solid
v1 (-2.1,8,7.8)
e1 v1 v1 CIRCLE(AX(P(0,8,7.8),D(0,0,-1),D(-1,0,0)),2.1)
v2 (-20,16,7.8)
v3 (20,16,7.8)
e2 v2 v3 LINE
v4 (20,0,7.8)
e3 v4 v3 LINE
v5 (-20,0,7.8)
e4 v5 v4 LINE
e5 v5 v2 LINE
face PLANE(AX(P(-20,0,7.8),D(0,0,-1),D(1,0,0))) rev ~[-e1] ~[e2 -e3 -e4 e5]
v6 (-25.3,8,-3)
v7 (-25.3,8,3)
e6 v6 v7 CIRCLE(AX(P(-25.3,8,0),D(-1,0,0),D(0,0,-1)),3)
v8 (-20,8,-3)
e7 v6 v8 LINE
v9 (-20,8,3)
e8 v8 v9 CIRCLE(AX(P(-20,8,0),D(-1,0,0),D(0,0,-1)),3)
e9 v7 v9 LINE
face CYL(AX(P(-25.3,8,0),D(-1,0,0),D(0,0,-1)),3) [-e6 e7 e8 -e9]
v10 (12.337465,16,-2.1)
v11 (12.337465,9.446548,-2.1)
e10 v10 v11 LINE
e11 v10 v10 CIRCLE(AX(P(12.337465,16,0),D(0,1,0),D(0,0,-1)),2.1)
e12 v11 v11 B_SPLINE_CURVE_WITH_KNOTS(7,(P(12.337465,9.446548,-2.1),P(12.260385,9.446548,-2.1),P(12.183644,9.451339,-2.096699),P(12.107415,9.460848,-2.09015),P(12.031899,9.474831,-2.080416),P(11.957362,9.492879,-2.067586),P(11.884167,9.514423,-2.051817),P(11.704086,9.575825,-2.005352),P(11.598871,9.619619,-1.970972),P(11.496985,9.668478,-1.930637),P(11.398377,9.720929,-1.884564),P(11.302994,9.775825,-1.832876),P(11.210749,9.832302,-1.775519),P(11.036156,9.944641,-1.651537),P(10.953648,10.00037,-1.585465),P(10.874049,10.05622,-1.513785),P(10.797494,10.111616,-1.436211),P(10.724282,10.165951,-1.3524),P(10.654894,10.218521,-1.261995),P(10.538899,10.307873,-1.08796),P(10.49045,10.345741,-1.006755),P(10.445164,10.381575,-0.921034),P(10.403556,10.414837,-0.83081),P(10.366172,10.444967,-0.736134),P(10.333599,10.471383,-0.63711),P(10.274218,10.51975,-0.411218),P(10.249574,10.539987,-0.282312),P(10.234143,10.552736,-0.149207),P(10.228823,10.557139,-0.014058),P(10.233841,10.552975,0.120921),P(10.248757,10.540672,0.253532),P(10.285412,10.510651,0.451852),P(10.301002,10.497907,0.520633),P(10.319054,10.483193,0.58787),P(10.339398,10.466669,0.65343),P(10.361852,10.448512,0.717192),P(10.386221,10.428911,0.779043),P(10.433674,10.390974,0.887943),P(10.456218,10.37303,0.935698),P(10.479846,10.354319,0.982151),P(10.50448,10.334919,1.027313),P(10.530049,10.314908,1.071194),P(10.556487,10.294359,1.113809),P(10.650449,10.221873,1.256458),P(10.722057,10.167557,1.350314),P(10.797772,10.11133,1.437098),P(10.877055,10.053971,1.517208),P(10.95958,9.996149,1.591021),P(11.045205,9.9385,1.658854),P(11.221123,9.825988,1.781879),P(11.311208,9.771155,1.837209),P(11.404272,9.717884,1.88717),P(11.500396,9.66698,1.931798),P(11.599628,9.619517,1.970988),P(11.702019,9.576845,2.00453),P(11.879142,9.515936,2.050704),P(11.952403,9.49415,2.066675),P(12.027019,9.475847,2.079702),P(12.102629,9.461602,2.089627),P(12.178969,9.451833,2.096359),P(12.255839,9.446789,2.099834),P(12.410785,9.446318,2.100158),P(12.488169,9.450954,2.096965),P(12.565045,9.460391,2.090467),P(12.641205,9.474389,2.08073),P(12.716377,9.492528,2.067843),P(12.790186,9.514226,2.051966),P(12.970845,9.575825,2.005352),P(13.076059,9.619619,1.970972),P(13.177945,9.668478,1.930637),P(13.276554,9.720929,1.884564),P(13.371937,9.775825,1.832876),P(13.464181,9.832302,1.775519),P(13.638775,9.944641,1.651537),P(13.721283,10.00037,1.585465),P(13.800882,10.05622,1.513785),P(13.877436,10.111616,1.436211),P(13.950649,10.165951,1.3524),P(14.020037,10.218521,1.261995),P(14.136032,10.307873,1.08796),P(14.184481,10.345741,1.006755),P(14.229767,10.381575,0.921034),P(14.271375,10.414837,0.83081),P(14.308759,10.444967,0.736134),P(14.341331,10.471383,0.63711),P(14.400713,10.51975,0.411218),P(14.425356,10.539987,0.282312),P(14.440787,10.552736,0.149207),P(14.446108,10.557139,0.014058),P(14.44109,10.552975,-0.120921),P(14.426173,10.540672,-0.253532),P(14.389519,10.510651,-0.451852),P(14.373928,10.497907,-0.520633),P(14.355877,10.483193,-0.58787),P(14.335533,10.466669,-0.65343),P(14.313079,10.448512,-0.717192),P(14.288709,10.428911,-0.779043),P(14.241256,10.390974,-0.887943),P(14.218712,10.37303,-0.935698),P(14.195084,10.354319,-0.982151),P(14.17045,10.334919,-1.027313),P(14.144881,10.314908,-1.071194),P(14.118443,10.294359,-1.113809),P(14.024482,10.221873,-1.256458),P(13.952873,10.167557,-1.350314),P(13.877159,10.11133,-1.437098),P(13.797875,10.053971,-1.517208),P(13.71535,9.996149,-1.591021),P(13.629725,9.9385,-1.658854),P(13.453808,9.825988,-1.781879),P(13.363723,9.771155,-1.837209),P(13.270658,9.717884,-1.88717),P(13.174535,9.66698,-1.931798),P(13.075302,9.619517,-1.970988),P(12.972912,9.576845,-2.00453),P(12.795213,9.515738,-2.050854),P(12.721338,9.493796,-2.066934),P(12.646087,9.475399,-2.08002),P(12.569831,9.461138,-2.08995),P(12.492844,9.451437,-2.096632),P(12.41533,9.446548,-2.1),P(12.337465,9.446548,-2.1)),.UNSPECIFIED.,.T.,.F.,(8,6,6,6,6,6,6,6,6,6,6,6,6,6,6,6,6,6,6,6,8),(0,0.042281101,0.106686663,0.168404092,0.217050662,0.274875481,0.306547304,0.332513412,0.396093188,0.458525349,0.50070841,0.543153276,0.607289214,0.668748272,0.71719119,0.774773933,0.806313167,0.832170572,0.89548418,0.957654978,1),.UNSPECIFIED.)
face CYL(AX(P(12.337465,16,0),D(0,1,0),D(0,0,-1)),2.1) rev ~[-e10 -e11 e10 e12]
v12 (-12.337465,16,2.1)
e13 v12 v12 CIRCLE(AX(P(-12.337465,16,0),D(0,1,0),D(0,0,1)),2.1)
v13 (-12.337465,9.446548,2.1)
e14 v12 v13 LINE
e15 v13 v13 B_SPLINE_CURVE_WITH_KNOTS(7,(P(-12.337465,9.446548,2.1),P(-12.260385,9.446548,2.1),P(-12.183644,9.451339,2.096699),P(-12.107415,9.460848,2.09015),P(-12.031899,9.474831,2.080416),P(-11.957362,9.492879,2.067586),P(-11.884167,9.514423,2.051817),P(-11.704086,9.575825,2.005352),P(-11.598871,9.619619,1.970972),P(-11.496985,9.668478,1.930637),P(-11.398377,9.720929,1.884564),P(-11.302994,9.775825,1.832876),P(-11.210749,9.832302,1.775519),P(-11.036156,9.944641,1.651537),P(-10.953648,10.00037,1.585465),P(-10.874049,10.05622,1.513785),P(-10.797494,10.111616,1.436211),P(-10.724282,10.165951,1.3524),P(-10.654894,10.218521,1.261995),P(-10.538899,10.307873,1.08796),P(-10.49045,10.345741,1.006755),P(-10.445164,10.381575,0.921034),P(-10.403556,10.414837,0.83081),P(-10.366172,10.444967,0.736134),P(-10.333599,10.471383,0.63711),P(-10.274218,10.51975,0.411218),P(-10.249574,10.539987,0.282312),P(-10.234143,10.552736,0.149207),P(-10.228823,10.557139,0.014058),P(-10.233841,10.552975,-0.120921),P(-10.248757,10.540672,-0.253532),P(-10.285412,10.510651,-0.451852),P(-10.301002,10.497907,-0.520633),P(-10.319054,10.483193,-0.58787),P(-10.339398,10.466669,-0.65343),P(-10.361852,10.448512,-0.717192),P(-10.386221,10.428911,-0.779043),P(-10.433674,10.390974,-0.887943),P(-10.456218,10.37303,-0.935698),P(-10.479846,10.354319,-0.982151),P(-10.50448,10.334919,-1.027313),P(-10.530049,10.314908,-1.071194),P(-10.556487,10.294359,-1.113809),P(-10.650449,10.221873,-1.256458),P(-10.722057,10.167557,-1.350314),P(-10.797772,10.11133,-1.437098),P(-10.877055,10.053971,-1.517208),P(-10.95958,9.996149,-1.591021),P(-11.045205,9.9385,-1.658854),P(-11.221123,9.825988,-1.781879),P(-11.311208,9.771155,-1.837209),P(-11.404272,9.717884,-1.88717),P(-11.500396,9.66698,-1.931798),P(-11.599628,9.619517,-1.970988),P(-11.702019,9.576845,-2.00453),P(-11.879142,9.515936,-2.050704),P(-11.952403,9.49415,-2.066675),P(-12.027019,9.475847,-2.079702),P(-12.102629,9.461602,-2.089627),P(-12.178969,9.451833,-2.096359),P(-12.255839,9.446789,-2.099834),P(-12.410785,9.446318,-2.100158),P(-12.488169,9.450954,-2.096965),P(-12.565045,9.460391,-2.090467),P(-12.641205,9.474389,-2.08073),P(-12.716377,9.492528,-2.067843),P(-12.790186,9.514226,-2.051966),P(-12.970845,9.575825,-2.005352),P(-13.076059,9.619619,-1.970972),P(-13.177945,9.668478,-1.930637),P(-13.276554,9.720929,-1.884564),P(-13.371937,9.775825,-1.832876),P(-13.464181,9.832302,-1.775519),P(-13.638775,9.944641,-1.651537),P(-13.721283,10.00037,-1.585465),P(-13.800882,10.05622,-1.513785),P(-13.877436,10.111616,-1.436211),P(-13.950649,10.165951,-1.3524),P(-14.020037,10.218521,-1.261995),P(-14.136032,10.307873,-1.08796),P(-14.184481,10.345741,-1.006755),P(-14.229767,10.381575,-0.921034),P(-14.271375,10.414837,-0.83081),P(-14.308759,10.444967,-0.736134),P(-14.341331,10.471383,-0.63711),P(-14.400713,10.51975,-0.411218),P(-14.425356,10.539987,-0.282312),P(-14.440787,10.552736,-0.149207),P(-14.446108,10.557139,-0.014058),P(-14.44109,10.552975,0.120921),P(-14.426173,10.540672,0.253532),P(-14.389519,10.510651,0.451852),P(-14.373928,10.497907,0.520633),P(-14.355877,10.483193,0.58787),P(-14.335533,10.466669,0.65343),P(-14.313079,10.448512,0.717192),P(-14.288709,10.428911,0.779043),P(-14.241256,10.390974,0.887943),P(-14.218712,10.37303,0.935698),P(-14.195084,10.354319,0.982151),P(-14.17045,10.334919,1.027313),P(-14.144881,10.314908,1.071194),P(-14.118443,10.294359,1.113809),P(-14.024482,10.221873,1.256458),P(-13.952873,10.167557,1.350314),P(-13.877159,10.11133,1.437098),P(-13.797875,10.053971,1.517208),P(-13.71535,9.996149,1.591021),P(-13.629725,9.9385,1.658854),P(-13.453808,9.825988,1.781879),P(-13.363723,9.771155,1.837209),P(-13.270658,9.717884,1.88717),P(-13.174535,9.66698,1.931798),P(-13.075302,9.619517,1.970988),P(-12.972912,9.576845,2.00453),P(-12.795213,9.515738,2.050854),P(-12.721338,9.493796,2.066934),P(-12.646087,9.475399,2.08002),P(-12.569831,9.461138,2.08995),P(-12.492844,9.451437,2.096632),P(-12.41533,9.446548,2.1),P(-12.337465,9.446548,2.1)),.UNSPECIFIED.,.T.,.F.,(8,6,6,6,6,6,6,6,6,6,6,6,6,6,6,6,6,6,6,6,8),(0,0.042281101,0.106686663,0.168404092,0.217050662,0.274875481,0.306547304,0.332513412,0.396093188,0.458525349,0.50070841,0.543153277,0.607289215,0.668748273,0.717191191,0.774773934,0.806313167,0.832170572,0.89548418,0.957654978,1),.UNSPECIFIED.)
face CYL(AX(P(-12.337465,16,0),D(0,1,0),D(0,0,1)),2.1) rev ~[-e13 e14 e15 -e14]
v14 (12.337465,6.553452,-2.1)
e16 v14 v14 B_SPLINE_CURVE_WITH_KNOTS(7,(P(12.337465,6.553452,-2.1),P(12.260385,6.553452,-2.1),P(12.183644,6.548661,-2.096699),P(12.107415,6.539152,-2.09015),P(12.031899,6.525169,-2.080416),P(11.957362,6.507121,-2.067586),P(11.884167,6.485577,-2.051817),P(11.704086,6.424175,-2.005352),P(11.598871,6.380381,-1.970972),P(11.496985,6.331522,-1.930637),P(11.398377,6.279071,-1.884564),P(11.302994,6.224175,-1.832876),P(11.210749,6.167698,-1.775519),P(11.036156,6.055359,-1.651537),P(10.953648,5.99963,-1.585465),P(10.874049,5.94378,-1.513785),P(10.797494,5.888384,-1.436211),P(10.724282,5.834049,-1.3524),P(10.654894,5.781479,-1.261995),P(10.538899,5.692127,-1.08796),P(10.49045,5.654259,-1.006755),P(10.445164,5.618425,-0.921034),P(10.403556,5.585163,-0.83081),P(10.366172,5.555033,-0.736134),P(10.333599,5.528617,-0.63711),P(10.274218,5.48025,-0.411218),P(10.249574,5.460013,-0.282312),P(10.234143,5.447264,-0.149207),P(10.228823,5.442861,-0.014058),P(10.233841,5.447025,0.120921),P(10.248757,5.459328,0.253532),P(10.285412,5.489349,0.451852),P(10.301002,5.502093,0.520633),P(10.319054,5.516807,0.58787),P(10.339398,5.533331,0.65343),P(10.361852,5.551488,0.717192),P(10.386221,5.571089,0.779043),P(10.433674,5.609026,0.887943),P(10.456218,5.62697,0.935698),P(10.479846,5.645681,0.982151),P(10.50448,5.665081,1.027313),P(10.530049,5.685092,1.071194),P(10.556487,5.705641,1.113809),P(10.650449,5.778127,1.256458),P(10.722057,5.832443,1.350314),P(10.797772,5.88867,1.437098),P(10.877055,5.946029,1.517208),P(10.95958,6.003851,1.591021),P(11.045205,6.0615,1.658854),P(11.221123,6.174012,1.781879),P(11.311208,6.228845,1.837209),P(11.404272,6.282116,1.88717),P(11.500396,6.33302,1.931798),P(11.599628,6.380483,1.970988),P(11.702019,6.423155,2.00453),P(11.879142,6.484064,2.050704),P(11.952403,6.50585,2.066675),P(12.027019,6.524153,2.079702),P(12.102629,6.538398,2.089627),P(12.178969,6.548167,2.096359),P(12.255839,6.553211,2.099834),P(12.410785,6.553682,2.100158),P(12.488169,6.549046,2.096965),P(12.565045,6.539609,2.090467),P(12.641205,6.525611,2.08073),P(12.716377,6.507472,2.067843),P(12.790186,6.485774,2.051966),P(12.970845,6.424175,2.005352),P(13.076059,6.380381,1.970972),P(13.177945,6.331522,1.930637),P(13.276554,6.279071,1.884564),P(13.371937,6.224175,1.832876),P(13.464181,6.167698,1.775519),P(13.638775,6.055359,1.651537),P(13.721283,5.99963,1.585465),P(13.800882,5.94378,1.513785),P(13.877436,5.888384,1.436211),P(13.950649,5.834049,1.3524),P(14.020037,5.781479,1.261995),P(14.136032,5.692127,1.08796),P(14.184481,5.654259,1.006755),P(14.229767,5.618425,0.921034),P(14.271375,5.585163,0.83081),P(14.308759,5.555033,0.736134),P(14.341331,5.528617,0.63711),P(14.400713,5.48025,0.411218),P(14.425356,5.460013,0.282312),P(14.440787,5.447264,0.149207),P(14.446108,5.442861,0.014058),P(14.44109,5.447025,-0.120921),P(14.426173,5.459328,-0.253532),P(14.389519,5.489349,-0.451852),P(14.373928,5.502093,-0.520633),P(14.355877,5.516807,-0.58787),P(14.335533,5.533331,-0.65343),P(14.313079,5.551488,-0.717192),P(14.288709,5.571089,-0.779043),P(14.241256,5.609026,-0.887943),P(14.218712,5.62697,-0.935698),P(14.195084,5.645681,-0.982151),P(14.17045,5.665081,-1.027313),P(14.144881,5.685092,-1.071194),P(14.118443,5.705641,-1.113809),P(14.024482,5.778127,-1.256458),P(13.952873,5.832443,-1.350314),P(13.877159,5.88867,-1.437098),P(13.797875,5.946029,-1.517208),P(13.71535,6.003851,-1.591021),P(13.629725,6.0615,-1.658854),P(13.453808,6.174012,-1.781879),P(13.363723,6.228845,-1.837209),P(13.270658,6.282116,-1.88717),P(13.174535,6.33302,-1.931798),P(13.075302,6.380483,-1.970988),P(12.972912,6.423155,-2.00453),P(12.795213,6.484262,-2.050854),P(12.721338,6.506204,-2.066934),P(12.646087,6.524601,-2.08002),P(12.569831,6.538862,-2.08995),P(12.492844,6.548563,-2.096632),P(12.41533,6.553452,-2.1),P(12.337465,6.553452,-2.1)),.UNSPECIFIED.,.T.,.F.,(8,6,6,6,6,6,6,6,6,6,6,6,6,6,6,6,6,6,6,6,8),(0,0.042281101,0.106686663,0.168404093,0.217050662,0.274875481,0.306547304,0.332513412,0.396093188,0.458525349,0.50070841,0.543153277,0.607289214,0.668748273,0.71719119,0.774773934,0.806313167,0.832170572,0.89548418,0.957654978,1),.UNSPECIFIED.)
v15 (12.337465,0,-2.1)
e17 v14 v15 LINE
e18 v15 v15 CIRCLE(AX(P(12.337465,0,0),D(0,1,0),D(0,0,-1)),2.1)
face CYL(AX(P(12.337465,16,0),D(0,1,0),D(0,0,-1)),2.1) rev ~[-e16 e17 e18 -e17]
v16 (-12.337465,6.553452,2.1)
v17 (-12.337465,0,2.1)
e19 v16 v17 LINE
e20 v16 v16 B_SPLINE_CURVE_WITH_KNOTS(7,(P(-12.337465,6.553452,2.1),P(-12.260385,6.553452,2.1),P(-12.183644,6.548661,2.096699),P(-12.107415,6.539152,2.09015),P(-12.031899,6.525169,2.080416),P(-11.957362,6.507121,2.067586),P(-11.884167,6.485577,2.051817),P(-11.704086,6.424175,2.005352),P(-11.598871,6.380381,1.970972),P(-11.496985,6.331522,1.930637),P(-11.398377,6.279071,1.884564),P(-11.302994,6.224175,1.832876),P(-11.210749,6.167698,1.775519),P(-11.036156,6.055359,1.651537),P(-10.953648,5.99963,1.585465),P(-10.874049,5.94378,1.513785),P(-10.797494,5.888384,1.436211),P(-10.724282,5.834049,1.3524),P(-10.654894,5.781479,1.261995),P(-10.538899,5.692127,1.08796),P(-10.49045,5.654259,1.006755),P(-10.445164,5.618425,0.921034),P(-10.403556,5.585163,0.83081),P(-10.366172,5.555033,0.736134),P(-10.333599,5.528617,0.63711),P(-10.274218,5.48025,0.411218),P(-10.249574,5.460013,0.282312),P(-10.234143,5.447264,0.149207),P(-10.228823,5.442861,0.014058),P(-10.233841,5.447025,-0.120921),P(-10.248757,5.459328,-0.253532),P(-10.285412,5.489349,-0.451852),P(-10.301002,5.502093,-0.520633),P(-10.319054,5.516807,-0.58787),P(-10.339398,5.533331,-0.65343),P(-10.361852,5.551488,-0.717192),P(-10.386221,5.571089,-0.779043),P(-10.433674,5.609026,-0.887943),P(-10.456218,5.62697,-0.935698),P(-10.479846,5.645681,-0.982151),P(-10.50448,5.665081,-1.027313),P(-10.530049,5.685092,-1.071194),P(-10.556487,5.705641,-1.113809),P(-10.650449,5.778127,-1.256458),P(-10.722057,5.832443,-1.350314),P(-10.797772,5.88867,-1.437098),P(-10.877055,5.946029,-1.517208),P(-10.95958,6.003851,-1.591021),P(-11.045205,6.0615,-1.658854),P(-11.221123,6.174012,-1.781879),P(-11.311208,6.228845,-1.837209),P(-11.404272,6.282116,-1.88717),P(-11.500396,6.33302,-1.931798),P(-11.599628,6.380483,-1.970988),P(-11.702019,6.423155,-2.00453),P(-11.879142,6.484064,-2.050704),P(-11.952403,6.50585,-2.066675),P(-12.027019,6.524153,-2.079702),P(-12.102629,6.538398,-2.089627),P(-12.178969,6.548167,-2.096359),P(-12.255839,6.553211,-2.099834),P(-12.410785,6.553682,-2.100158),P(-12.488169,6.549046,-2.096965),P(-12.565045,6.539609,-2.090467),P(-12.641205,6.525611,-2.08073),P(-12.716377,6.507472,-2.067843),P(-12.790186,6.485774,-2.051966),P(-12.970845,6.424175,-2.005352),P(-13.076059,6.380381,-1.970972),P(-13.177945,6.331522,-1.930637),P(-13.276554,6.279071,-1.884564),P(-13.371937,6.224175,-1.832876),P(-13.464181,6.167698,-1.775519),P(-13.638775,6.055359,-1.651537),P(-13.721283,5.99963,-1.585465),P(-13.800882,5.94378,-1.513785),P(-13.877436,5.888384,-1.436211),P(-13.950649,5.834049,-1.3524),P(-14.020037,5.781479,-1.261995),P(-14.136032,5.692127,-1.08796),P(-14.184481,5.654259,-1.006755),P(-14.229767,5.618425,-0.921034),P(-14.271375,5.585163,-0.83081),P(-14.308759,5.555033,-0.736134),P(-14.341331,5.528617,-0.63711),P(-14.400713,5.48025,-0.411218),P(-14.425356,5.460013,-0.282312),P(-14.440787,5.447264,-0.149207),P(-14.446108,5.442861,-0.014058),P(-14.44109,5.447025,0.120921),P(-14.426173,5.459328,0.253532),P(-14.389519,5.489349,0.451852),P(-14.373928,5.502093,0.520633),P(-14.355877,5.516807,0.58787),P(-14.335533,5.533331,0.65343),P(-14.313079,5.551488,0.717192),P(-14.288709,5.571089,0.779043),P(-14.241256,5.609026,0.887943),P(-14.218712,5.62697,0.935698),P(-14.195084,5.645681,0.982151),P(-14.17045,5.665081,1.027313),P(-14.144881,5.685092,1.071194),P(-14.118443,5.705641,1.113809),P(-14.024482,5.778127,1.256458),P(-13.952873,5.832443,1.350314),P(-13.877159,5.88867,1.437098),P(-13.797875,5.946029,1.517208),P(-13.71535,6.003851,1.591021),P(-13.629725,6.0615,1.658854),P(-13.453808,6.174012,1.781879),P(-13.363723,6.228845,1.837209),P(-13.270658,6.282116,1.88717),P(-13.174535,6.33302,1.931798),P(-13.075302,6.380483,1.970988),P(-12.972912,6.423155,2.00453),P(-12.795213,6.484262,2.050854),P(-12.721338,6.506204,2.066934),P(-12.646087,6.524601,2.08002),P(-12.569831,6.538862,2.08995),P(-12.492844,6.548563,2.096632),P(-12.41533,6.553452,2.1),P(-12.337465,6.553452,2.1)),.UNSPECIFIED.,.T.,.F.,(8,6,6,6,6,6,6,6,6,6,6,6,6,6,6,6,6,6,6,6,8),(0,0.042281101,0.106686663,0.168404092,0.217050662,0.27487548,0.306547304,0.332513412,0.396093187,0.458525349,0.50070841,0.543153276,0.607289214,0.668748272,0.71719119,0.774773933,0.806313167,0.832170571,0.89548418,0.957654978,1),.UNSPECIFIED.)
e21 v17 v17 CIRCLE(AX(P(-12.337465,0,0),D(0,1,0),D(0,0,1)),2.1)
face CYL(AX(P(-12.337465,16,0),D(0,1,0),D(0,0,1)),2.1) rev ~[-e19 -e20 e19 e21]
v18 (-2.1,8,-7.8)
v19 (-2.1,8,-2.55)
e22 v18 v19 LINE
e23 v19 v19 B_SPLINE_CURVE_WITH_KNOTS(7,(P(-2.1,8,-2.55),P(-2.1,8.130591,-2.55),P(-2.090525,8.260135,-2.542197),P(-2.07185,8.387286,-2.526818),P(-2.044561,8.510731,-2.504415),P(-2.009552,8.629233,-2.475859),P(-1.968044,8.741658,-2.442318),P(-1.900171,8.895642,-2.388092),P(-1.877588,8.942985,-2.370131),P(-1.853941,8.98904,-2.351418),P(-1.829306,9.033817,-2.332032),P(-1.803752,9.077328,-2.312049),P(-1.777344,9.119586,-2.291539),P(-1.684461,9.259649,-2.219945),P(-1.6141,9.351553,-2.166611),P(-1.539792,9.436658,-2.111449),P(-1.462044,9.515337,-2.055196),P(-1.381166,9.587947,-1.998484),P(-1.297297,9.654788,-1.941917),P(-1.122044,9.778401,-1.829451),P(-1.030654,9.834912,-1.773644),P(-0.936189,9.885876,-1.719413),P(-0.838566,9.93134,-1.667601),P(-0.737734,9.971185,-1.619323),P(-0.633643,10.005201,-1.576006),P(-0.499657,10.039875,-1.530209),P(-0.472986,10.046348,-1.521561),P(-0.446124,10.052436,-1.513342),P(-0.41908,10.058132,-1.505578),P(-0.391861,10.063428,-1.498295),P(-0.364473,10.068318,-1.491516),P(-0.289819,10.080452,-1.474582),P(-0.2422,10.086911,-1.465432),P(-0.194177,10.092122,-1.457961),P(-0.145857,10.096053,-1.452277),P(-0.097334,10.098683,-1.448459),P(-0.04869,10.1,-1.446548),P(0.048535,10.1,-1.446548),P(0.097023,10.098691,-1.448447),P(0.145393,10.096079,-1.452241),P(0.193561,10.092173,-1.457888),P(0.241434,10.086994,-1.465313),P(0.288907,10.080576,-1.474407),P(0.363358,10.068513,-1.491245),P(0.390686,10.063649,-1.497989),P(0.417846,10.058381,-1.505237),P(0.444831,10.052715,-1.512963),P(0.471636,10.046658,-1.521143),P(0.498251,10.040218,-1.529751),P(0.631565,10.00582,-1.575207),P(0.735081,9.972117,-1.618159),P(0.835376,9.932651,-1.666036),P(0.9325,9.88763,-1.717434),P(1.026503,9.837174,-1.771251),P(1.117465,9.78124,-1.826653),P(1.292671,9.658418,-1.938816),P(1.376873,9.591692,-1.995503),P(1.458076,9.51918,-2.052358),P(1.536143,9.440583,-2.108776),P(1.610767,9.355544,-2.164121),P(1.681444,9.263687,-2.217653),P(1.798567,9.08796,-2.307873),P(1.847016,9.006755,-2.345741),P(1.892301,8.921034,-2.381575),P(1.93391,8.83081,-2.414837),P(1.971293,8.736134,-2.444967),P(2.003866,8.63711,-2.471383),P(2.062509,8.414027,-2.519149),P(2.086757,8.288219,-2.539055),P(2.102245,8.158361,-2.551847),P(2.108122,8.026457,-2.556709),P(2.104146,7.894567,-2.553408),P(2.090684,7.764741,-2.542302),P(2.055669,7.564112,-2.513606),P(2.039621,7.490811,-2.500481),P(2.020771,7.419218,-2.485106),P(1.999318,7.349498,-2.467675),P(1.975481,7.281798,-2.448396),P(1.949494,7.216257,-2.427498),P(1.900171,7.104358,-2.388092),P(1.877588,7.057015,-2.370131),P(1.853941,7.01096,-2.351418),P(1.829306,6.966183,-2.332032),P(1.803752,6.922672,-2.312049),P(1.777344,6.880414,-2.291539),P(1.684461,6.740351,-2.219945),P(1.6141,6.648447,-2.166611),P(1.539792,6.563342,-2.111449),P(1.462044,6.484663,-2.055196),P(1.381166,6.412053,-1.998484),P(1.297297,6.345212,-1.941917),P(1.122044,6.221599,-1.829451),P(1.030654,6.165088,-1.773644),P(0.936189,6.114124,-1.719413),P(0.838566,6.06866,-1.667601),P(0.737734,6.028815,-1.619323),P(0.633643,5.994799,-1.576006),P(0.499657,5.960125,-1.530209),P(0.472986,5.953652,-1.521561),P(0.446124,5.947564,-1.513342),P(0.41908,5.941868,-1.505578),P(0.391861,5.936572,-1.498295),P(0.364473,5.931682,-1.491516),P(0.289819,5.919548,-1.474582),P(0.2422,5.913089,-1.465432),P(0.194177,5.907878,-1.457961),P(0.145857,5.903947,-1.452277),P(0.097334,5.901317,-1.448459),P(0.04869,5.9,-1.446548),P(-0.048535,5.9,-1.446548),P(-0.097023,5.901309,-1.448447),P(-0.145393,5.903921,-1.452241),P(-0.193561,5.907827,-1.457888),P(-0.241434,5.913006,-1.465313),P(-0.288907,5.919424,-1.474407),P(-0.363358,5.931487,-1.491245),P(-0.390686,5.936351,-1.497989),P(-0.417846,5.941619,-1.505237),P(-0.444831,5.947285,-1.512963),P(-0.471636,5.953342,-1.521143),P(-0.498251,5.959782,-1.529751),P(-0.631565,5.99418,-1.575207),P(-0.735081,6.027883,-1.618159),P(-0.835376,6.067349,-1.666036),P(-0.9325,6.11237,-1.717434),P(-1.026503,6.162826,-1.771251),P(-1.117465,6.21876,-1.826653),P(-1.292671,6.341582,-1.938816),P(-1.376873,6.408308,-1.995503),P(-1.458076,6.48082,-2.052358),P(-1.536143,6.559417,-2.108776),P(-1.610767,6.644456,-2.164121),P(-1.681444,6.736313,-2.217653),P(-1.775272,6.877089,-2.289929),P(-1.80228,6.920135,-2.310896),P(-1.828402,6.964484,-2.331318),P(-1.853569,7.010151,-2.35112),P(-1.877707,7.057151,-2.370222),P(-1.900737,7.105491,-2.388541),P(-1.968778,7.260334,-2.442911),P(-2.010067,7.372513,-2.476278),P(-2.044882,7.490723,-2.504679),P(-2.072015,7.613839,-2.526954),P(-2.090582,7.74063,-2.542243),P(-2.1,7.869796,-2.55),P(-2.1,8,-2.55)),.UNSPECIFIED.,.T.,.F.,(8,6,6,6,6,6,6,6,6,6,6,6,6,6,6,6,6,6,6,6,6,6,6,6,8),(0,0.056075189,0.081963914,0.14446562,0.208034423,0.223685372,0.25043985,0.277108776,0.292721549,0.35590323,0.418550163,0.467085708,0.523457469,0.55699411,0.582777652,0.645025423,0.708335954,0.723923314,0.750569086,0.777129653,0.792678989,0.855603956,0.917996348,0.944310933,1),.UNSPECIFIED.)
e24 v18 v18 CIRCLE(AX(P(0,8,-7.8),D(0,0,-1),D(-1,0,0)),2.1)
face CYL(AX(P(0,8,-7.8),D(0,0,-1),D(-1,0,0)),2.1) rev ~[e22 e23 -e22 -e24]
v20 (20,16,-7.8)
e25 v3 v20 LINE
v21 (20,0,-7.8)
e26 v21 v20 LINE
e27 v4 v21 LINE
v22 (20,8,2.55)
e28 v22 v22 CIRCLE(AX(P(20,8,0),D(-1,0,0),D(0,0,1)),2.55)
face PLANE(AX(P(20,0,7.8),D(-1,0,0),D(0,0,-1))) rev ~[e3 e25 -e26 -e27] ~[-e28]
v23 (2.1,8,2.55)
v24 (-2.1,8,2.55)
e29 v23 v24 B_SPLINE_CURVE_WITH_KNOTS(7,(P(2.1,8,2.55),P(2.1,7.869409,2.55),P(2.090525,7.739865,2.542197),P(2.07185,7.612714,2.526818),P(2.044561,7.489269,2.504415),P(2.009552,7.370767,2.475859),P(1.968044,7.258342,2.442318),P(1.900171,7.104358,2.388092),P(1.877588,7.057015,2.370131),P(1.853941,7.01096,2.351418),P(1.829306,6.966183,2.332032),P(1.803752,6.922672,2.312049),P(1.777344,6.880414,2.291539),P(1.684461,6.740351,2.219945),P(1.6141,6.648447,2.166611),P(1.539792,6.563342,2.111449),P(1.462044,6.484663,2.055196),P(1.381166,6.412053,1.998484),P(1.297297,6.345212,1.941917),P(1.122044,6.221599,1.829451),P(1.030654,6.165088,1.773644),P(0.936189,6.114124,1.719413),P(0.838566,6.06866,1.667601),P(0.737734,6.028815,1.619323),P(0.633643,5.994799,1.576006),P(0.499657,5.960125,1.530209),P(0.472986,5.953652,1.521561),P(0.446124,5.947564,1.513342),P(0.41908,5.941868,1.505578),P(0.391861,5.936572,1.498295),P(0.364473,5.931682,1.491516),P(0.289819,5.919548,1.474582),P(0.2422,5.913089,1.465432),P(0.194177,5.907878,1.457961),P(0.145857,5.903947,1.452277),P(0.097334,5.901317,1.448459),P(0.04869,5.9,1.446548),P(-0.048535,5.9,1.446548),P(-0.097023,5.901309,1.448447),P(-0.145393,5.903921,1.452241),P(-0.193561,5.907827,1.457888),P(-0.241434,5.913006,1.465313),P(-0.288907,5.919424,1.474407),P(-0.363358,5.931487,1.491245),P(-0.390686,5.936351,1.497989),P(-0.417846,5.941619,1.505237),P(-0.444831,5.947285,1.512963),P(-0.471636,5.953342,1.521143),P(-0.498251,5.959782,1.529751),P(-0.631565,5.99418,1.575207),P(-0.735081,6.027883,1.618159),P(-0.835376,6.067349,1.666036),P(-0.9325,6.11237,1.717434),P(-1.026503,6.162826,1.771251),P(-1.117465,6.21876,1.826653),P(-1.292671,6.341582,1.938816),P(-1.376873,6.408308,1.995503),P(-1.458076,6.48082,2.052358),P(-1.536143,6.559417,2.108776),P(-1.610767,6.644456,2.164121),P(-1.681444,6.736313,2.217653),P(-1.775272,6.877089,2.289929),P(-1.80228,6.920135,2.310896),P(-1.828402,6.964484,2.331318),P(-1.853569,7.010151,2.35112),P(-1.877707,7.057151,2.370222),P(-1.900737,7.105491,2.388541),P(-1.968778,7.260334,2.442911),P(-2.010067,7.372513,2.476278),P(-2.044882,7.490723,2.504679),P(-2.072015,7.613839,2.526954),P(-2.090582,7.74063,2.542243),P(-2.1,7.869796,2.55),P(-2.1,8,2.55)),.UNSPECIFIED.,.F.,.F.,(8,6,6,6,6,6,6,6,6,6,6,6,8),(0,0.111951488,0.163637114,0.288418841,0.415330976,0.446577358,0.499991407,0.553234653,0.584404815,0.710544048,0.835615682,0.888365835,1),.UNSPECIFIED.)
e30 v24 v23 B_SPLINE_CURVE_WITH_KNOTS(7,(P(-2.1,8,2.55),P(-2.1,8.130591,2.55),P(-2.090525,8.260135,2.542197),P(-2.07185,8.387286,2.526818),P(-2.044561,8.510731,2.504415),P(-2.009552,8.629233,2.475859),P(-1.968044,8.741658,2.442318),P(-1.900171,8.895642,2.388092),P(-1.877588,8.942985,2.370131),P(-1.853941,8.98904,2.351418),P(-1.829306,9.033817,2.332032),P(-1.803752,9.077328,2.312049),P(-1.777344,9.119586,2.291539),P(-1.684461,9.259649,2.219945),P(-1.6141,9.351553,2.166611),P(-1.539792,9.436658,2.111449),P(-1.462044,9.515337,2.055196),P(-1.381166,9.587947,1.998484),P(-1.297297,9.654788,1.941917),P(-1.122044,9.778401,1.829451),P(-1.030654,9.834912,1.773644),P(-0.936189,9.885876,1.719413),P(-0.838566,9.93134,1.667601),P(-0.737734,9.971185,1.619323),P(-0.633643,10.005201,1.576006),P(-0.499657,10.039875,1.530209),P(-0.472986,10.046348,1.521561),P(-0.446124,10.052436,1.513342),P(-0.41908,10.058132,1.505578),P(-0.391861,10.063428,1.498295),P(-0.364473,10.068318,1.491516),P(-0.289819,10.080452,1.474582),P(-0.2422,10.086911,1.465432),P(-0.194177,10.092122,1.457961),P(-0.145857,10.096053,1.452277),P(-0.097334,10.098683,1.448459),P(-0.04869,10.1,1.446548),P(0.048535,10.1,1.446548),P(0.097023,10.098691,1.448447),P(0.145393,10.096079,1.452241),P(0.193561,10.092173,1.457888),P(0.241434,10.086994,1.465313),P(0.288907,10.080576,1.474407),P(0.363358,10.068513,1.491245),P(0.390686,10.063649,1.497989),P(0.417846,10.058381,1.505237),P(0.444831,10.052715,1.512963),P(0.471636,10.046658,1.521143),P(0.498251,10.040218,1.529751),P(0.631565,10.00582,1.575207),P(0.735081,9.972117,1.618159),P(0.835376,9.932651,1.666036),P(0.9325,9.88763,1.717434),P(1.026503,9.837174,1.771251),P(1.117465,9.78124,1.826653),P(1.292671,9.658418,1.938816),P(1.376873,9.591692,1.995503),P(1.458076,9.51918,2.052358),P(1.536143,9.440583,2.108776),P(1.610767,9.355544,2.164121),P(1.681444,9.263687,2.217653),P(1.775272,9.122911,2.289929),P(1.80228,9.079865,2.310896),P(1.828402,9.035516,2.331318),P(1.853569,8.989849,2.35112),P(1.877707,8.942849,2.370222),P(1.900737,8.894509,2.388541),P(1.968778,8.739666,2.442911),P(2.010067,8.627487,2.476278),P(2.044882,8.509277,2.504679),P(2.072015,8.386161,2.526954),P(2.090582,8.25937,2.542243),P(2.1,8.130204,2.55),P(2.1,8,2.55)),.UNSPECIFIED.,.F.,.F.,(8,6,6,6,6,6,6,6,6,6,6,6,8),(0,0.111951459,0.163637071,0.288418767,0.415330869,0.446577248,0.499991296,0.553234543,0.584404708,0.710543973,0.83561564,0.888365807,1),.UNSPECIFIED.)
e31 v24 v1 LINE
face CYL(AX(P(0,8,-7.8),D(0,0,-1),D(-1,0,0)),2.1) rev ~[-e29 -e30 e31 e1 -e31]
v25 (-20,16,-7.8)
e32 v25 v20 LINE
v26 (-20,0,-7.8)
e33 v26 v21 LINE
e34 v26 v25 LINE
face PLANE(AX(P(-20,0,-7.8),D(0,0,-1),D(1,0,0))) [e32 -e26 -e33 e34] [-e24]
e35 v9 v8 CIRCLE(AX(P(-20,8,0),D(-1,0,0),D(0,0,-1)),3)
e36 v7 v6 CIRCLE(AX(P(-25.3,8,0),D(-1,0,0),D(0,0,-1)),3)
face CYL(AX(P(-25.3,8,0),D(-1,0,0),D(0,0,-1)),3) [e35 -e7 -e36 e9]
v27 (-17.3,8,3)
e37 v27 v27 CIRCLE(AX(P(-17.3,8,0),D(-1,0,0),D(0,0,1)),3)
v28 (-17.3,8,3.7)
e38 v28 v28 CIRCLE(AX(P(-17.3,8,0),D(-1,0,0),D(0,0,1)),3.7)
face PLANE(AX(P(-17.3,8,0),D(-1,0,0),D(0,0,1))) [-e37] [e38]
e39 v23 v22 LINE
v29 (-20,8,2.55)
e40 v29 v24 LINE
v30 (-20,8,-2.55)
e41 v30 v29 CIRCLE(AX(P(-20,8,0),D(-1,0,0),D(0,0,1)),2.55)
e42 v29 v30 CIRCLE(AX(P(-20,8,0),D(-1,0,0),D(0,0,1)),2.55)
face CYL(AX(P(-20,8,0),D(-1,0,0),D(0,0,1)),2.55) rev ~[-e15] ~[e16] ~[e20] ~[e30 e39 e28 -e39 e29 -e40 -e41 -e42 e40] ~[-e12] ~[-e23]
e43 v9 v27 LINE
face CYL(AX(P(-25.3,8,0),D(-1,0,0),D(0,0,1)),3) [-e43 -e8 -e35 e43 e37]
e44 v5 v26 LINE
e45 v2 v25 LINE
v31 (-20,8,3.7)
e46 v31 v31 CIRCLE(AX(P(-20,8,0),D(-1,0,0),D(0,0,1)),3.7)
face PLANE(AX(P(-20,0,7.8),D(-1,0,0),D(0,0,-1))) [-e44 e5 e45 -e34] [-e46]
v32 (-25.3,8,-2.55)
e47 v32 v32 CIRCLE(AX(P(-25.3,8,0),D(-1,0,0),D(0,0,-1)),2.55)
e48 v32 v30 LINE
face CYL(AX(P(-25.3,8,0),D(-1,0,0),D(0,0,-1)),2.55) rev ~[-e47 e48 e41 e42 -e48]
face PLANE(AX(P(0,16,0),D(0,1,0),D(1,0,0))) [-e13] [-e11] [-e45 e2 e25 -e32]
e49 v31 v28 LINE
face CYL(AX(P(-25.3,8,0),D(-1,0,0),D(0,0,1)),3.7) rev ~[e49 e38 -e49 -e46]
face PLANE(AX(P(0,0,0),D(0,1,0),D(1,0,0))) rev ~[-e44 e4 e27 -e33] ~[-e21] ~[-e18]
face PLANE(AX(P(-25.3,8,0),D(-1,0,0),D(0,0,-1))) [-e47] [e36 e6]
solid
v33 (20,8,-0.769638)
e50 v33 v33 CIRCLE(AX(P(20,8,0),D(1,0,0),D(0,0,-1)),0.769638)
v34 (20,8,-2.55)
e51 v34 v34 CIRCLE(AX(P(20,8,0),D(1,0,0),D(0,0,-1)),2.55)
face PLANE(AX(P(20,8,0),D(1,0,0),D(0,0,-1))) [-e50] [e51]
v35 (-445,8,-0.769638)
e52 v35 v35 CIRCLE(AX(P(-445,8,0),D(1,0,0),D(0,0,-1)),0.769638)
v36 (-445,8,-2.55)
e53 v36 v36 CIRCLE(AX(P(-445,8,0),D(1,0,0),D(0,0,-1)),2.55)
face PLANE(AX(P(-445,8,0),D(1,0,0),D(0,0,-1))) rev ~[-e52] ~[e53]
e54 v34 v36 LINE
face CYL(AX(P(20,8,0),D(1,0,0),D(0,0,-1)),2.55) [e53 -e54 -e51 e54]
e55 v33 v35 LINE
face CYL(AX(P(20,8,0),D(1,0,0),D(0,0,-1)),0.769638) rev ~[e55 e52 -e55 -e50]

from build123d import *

# Parameters (mm, degrees)
SKETCH_1_W          = 40
SKETCH_1_H          = 15.6
EXTRUDE_1_DEPTH     = 16
SKETCH_2_R          = 2.1
CUT_EXTRUDE_1_DEPTH = 27.773867857
SKETCH_3_R          = 2.55
CUT_EXTRUDE_2_DEPTH = 44.78173135
SKETCH_4_R          = 2.55
SKETCH_4_R_2        = 0.769637984
EXTRUDE_2_DEPTH     = 465
EXTRUDE_START       = 5.3
SKETCH_5_R          = 3
SKETCH_5_R_2        = 2.55
EXTRUDE_3_DEPTH     = 5.3
SKETCH_6_R          = 3.7
SKETCH_6_R_2        = 3
CUT_EXTRUDE_3_DEPTH = 8
SKETCH_8_R          = 2.1
CUT_EXTRUDE_4_DEPTH = 446.560725382


with BuildPart() as part:
    # Эскиз1 → Бобышка-Вытянуть1 (new body)
    with BuildSketch(Plane(origin=(0, 0, 0), x_dir=(1, 0, 0), z_dir=(0, 1, 0))):
        Rectangle(SKETCH_1_W, SKETCH_1_H)
    extrude(amount=EXTRUDE_1_DEPTH)

    # Эскиз2 → Вырез-Вытянуть1 (cut, through all)
    with BuildSketch(Plane(origin=(0, 16, 0), x_dir=(1, 0, 0), z_dir=(0, 1, 0))):
        with Locations(Location((-12.337465342, 0, 0), (0, 0, 270))):
            Circle(SKETCH_2_R)
        with Locations(Location((12.337465342, 0, 0), (0, 0, 90))):
            Circle(SKETCH_2_R)
    extrude(amount=-CUT_EXTRUDE_1_DEPTH, mode=Mode.SUBTRACT)

    # Эскиз3 → Вырез-Вытянуть2 (cut, through all)
    with BuildSketch(Plane.ZY.offset(20)):
        with Locations((0, 8)):
            Circle(SKETCH_3_R)
    extrude(amount=-CUT_EXTRUDE_2_DEPTH, mode=Mode.SUBTRACT)

    # Эскиз5 → Бобышка-Вытянуть3 (add)
    with BuildSketch(Plane.ZY.offset(20).offset(EXTRUDE_START)):
        with Locations(Location((0, 8, 0), (0, 0, 180))):
            Circle(SKETCH_5_R)
        with Locations(Location((0, 8, 0), (0, 0, 180))):
            Circle(SKETCH_5_R_2, mode=Mode.SUBTRACT)
    extrude(amount=-EXTRUDE_3_DEPTH)

    # Эскиз6 → Вырез-Вытянуть3 (cut)
    with BuildSketch(Plane.ZY.offset(25.3)):
        with Locations((0, 8)):
            Circle(SKETCH_6_R)
        with Locations((0, 8)):
            Circle(SKETCH_6_R_2, mode=Mode.SUBTRACT)
    extrude(amount=-CUT_EXTRUDE_3_DEPTH, mode=Mode.SUBTRACT)

    # Эскиз8 → Вырез-Вытянуть4 (cut, through all)
    with BuildSketch(Plane(origin=(0, 0, -7.8), x_dir=(-1, 0, 0), z_dir=(0, 0, -1))):
        with Locations((0, 8)):
            Circle(SKETCH_8_R)
    extrude(amount=-CUT_EXTRUDE_4_DEPTH, mode=Mode.SUBTRACT)


with BuildPart() as body_2:
    # Эскиз4 → Бобышка-Вытянуть2 (new body)
    with BuildSketch(Plane(origin=(20, 0, 0), x_dir=(0, 0, -1), z_dir=(1, 0, 0))):
        with Locations((0, 8)):
            Circle(SKETCH_4_R)
        with Locations((0, 8)):
            Circle(SKETCH_4_R_2, mode=Mode.SUBTRACT)
    extrude(amount=-EXTRUDE_2_DEPTH)


solid = Compound([part.part, body_2.part])
